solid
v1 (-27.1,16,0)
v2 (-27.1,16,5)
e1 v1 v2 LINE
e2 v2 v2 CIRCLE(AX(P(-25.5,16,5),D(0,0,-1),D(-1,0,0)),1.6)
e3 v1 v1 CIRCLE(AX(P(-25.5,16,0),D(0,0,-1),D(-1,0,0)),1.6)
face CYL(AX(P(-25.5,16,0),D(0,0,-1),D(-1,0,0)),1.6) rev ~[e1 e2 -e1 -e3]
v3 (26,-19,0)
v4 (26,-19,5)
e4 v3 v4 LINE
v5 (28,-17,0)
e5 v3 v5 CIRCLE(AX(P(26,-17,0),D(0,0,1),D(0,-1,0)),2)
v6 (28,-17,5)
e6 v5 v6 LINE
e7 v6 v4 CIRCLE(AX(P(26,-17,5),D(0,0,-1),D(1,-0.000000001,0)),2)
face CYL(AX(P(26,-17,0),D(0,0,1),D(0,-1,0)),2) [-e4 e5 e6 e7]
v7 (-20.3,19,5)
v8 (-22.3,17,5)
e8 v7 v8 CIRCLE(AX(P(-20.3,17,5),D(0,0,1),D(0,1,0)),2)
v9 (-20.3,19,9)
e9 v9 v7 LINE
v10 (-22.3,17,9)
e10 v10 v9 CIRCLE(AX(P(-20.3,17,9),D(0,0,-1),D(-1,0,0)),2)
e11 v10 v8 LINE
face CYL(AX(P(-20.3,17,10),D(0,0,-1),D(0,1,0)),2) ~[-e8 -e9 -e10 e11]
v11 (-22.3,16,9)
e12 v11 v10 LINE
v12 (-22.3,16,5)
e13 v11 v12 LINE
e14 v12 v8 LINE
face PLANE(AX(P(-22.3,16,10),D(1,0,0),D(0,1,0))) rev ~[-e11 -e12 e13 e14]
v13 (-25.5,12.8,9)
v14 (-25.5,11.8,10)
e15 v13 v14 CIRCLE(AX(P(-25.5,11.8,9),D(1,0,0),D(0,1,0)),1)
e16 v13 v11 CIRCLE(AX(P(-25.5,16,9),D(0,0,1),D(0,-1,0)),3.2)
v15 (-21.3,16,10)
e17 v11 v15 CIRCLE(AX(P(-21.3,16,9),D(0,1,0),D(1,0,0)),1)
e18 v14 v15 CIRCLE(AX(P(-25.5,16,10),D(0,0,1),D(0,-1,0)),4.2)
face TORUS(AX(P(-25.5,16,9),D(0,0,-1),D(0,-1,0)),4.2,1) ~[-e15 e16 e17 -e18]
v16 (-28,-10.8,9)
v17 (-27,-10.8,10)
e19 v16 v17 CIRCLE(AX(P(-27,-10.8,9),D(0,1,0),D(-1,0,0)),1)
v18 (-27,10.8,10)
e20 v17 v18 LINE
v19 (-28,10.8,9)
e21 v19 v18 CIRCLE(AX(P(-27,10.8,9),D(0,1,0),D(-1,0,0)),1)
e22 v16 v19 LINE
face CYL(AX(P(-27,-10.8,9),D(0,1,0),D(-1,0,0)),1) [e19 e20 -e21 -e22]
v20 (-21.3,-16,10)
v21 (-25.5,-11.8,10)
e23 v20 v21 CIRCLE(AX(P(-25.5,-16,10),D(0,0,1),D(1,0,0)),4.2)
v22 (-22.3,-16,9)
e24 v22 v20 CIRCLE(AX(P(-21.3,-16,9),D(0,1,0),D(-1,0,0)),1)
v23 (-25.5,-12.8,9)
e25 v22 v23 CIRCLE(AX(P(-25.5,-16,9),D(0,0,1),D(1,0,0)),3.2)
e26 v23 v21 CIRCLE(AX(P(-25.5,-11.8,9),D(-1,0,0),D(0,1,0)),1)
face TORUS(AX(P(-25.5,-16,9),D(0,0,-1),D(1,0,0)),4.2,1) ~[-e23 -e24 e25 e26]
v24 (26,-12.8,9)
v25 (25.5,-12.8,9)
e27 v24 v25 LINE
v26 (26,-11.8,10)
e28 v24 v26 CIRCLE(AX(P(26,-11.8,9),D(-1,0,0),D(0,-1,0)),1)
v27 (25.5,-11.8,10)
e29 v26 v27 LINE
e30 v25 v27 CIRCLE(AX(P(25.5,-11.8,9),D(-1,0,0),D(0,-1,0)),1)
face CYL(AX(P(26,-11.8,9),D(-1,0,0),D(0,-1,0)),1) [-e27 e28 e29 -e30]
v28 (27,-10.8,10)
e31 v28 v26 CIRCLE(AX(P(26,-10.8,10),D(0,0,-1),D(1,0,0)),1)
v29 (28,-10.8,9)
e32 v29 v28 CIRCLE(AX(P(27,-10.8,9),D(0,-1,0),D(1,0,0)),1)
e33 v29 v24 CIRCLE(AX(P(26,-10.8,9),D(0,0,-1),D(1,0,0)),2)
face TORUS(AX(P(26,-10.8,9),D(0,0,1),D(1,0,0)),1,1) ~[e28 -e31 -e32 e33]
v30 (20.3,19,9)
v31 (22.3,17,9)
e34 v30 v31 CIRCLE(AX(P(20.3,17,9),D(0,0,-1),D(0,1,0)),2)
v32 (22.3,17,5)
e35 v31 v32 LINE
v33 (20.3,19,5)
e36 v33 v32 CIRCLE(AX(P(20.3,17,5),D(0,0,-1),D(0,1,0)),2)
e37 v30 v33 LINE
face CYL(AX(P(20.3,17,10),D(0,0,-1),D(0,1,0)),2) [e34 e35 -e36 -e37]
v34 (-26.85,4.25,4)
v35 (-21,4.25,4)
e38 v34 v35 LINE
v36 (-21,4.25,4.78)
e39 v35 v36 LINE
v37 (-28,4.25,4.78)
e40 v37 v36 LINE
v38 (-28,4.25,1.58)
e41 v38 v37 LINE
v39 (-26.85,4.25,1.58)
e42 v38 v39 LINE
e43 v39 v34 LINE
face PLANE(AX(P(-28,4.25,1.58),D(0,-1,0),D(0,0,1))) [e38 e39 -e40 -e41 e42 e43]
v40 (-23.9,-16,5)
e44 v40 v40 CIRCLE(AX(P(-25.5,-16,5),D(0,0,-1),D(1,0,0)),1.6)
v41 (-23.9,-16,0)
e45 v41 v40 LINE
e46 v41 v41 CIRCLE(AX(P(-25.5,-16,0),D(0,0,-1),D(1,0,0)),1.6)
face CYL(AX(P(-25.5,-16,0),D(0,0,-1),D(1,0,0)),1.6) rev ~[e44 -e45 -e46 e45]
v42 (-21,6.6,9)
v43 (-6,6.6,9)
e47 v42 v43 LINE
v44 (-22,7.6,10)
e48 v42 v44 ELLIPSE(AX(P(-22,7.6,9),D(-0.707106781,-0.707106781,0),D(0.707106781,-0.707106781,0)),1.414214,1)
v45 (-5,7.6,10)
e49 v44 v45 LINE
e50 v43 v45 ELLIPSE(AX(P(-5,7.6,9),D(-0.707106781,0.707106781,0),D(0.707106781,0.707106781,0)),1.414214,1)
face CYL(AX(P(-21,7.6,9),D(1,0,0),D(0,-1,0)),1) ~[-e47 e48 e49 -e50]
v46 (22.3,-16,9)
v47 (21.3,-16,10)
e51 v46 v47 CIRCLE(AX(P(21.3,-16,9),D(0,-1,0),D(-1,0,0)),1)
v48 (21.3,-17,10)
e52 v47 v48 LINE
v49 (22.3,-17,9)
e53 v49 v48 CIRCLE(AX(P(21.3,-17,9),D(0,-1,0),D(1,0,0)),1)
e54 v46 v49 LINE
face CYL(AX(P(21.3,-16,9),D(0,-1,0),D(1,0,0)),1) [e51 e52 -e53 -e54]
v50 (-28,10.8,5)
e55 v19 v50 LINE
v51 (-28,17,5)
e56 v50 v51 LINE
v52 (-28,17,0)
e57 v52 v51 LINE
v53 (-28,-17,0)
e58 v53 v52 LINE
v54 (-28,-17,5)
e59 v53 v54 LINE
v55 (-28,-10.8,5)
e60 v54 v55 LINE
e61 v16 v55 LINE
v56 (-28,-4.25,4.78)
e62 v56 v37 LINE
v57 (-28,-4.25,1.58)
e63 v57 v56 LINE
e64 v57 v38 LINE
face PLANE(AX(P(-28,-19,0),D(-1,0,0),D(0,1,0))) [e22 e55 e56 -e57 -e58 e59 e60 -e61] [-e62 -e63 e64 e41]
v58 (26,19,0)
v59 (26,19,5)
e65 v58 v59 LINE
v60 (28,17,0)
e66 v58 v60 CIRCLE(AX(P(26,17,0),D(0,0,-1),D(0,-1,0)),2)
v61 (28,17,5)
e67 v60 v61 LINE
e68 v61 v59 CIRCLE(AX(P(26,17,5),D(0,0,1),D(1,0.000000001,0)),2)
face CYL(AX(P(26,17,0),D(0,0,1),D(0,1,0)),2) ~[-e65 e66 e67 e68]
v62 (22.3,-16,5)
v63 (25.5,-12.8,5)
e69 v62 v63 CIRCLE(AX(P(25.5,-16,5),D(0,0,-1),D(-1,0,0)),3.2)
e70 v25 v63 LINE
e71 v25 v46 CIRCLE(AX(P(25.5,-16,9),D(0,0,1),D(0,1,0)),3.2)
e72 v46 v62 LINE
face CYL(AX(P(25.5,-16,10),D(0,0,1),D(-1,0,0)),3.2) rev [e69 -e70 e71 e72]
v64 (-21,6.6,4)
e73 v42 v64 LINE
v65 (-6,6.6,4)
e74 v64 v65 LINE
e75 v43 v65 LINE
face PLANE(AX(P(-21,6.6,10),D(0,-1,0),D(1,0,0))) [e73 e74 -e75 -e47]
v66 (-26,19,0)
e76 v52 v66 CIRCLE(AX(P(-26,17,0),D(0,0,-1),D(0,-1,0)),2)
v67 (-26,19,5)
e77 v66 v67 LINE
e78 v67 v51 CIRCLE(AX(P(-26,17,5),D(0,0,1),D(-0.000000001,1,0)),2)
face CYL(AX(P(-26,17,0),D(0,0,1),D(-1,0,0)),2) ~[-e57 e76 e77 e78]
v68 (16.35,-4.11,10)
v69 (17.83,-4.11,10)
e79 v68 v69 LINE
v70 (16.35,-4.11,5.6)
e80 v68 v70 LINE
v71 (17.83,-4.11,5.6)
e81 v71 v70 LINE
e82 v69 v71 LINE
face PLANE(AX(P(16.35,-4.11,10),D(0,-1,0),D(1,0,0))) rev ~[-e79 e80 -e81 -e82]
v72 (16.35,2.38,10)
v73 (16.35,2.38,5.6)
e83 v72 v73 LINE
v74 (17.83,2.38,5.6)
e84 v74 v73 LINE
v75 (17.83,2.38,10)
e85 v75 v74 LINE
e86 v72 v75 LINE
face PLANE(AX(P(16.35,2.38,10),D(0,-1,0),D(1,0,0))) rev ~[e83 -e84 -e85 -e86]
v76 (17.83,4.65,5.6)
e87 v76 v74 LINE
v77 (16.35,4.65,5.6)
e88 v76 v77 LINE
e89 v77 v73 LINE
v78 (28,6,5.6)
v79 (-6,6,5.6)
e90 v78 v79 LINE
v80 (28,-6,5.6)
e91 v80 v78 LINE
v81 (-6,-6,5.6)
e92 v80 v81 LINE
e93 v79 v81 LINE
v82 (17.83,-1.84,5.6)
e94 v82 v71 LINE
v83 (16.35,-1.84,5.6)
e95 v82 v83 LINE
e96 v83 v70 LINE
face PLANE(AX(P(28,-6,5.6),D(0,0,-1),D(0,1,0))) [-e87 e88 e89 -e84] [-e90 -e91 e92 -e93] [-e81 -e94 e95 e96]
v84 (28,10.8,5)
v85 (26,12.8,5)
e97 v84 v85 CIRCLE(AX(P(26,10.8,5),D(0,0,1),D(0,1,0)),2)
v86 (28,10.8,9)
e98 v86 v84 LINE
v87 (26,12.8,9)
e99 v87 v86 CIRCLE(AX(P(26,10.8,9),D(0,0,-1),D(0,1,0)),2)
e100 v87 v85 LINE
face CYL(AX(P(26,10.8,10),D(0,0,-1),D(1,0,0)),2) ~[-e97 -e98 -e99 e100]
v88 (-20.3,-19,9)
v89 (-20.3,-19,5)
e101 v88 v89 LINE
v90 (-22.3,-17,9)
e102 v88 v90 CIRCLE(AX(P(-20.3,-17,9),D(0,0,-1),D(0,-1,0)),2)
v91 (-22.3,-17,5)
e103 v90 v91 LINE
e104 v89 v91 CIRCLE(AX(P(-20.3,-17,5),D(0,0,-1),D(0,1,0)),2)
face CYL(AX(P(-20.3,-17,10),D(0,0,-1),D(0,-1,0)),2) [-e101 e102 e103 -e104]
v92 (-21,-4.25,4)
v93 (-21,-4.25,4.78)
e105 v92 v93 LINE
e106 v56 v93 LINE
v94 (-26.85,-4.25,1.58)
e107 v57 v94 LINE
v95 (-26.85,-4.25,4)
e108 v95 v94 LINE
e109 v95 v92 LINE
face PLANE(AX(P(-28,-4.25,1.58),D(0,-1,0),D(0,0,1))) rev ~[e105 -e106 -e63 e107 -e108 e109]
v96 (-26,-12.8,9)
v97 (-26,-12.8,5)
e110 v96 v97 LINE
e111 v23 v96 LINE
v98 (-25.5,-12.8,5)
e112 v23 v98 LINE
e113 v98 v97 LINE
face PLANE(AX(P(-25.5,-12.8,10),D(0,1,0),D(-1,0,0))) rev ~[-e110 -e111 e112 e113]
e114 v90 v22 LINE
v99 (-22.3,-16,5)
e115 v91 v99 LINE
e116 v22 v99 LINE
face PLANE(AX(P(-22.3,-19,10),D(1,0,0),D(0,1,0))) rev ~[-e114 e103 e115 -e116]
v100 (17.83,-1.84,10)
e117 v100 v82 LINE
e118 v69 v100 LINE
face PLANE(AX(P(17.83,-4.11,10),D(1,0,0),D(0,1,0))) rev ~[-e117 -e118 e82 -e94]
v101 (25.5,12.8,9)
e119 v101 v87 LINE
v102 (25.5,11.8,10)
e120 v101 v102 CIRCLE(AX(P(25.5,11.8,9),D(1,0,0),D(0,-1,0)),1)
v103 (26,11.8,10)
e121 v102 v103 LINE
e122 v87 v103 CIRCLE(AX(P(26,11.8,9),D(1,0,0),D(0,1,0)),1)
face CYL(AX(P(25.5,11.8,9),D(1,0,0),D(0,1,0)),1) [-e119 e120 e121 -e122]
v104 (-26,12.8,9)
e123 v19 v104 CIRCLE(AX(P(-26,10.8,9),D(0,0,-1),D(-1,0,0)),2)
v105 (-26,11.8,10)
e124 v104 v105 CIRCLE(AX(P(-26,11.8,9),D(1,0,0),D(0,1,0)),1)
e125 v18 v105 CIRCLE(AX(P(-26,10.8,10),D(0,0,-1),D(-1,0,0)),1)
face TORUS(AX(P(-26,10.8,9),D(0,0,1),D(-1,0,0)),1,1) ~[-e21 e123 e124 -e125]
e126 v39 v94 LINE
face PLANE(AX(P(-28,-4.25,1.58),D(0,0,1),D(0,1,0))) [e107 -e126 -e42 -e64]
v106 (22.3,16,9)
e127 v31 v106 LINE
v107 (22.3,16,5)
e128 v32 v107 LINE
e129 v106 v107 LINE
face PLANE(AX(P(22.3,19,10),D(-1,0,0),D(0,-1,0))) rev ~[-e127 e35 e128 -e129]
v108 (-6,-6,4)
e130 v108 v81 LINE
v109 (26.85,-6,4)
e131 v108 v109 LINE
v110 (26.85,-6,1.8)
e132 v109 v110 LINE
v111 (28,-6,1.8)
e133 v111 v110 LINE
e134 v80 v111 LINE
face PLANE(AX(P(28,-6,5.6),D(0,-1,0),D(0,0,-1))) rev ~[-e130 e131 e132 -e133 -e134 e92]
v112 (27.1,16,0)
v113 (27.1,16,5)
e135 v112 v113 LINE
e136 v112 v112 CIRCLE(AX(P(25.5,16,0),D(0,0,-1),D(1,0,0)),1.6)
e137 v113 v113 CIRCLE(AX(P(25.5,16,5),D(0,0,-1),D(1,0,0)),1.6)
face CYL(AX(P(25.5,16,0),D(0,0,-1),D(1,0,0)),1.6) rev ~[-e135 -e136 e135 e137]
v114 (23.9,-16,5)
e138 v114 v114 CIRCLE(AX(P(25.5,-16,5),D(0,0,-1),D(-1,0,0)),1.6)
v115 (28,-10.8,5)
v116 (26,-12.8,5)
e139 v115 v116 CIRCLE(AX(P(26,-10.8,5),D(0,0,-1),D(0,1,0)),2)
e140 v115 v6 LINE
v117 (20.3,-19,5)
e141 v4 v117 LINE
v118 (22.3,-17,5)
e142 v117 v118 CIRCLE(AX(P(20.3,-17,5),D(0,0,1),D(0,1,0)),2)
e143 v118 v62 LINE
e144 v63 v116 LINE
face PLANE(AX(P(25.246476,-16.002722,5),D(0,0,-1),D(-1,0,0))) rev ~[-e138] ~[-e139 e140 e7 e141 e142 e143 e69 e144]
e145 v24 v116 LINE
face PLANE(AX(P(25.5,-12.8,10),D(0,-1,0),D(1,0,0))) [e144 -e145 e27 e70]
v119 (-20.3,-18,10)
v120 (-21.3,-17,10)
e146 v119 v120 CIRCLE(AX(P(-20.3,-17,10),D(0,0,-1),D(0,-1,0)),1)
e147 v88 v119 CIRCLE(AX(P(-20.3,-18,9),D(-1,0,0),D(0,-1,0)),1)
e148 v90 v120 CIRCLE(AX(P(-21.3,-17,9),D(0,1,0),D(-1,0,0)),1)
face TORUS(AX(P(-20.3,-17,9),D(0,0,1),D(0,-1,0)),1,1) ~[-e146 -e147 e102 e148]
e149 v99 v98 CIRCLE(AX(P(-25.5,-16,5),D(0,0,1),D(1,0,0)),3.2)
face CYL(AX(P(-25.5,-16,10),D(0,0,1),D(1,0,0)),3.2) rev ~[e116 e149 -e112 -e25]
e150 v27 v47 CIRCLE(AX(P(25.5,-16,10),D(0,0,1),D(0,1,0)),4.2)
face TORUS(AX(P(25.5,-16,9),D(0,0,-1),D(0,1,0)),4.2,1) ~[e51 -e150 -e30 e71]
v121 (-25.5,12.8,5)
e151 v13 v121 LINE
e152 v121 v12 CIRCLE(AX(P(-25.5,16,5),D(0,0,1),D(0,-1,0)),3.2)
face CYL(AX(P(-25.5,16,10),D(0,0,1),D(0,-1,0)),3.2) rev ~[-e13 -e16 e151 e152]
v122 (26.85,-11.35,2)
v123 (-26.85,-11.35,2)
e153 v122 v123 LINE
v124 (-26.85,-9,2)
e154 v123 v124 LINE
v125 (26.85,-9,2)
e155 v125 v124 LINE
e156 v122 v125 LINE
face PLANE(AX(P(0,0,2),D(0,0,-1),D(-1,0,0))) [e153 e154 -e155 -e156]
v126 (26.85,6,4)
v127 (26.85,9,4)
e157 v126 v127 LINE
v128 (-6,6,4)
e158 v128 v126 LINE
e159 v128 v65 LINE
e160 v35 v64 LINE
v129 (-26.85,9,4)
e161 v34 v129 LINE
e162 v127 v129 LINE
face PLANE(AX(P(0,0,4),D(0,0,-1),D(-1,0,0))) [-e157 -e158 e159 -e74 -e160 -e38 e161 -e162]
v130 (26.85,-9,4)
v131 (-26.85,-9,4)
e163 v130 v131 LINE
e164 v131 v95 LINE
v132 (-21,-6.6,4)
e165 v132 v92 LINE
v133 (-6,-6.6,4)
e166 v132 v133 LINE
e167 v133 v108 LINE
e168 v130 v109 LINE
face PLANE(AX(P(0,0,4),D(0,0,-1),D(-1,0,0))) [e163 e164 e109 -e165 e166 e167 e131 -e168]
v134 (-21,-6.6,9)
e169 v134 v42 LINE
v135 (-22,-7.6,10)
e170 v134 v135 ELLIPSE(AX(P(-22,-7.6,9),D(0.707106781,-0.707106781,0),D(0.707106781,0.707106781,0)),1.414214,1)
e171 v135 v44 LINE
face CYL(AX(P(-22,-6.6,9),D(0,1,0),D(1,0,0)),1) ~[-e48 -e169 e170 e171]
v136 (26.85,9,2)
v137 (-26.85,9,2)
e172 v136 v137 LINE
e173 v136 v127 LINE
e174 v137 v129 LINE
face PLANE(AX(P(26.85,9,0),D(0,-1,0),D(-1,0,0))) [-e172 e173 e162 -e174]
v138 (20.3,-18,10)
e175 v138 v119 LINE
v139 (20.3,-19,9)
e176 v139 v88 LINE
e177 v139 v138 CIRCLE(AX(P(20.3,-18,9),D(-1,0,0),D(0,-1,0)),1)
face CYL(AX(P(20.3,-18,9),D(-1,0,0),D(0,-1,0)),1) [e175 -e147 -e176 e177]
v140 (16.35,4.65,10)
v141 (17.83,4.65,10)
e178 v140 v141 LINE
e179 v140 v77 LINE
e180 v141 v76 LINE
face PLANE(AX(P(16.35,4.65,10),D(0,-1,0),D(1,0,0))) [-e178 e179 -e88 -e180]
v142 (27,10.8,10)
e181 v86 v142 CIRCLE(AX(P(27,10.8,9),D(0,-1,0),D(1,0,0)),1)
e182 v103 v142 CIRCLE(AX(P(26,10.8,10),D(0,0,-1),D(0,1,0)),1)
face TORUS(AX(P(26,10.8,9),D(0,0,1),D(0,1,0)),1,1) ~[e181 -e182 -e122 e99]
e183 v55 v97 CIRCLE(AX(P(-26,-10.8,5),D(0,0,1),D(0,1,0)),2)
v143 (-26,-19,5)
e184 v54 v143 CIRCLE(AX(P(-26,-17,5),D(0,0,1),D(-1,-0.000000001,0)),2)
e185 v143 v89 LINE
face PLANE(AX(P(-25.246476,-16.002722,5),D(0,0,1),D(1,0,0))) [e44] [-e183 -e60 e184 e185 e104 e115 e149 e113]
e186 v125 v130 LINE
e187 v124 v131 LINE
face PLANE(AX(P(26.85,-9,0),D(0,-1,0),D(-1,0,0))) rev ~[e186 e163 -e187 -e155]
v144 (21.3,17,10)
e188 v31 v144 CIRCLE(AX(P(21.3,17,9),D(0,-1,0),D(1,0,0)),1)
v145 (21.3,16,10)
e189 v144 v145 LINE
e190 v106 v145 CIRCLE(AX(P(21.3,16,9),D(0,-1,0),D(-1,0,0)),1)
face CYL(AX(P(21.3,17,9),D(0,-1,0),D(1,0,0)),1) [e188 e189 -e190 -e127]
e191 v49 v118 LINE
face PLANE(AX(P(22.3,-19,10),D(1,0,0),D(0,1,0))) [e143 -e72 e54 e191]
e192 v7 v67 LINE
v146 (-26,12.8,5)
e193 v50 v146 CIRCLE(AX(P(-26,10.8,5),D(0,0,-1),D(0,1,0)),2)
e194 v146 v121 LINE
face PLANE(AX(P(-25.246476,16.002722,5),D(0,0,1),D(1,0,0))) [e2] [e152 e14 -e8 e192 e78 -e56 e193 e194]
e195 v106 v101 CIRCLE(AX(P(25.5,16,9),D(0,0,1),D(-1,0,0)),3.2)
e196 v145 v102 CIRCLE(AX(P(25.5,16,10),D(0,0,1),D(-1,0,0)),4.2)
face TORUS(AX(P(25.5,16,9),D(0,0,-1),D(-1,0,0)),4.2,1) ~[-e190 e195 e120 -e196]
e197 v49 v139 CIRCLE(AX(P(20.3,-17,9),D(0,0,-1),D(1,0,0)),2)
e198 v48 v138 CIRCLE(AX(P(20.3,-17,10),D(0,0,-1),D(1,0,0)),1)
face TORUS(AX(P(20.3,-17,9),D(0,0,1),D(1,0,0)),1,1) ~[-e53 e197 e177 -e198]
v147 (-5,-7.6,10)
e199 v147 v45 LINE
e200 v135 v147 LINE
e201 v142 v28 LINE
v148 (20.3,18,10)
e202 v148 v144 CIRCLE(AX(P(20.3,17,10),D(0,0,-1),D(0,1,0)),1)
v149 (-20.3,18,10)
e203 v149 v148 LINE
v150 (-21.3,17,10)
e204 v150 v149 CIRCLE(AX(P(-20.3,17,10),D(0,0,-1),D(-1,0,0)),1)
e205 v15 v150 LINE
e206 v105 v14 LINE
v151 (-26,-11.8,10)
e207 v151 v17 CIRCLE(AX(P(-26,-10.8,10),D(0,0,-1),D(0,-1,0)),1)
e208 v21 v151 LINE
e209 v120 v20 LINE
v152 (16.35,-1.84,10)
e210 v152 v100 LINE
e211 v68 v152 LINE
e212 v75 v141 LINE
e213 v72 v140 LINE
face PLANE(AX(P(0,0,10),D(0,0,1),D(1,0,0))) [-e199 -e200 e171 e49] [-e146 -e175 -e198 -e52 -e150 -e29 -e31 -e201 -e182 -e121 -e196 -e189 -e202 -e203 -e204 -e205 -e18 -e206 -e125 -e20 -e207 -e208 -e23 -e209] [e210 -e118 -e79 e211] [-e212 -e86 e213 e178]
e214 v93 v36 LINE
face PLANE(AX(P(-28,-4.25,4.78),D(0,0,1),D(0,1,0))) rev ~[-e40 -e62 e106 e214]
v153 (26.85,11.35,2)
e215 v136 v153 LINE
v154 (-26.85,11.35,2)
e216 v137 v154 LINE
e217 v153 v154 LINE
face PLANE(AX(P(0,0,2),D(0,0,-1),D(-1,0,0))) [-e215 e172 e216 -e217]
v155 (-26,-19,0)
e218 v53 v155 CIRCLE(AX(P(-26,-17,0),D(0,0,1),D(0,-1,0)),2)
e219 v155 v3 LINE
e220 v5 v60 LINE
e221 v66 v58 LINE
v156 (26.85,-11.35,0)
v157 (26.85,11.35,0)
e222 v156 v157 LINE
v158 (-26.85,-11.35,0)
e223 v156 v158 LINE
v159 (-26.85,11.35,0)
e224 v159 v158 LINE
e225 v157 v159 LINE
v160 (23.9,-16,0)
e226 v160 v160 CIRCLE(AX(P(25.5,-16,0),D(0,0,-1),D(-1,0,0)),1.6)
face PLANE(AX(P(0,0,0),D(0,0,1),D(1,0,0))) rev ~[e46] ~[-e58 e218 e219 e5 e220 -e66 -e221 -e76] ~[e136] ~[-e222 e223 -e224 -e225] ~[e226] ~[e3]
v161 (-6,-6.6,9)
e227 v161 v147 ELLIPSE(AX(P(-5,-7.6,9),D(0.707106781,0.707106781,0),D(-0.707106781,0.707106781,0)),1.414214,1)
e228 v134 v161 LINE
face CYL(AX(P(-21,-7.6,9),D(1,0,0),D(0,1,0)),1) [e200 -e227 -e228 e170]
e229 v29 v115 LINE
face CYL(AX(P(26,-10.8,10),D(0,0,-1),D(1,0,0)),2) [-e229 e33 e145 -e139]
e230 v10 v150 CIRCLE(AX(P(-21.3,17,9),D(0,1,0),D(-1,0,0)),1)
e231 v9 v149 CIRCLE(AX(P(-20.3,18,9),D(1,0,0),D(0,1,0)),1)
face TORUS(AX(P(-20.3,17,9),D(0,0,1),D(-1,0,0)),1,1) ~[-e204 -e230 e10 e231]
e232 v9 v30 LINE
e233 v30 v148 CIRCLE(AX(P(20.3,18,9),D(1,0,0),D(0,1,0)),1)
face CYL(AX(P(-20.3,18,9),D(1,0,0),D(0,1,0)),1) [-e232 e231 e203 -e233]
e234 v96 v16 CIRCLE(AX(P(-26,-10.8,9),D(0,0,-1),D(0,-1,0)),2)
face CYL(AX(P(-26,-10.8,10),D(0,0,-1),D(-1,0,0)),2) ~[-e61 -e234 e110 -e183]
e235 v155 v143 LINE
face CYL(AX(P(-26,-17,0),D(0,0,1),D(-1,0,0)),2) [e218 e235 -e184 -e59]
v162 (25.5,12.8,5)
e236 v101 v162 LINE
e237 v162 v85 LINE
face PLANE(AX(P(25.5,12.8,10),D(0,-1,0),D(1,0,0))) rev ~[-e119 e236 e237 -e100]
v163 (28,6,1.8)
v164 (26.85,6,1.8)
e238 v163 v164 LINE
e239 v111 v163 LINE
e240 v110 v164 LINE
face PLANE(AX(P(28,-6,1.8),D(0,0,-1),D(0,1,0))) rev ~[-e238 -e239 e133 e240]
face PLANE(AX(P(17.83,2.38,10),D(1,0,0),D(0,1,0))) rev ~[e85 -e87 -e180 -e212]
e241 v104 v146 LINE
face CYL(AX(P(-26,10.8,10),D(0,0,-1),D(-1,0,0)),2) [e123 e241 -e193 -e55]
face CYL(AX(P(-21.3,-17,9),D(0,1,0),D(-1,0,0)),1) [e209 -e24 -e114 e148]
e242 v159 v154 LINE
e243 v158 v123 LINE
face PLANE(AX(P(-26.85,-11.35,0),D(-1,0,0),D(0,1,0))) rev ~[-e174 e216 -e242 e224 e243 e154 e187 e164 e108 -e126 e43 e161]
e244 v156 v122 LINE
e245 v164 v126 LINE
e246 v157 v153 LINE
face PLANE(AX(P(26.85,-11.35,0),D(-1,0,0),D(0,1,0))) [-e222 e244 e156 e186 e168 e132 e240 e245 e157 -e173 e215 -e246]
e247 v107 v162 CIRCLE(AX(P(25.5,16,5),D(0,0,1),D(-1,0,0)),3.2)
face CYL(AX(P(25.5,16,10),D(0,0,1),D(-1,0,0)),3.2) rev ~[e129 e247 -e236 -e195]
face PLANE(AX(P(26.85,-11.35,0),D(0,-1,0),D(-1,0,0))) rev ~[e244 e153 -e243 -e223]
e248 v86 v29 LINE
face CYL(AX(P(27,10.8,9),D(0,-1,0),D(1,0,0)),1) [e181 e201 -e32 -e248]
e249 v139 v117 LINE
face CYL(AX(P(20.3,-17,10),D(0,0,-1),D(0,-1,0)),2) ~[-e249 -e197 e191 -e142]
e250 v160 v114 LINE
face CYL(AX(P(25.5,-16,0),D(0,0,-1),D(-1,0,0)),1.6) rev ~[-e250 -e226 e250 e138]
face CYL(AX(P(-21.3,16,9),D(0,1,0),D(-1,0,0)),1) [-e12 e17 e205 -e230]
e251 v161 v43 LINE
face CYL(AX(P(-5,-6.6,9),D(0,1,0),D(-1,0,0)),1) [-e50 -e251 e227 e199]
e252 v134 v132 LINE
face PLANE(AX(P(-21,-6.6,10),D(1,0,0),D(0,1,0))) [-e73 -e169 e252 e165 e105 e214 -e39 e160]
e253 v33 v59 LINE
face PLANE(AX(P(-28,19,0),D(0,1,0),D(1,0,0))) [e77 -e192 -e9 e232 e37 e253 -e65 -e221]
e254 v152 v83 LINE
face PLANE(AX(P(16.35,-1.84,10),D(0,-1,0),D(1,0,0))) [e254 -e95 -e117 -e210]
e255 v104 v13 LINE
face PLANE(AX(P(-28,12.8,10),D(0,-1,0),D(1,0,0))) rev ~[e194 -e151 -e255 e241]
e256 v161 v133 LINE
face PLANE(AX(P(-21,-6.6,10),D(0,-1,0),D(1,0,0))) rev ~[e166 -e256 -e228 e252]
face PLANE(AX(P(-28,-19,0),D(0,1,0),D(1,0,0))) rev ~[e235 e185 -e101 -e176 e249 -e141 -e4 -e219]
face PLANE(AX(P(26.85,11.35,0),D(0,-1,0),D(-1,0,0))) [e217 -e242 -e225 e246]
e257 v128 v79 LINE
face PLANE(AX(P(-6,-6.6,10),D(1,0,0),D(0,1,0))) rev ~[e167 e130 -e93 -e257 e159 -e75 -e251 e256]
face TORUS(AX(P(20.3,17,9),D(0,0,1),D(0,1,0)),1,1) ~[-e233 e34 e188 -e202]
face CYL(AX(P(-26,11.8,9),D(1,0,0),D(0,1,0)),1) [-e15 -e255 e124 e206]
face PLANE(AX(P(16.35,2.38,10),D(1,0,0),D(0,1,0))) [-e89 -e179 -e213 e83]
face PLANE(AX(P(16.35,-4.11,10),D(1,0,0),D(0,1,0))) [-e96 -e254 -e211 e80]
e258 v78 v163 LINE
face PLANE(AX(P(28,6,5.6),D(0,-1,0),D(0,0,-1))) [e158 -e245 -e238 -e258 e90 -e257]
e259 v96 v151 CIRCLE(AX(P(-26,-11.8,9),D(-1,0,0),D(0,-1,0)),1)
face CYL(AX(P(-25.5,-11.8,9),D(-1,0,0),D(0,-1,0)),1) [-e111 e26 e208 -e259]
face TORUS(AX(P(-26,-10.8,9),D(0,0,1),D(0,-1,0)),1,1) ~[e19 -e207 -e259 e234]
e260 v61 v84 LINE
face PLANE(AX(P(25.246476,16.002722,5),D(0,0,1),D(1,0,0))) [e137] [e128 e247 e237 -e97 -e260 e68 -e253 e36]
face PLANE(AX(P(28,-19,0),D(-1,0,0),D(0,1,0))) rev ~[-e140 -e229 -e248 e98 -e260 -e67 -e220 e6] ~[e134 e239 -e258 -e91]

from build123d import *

# Parameters (mm, degrees)
SKETCH_1_W          = 56
SKETCH_1_H          = 38
EXTRUDE_1_DEPTH     = 10
SKETCH_2_W          = 15
SKETCH_2_H          = 13.2
SKETCH_2_W_2        = 1.48
SKETCH_2_H_2        = 2.27
CUT_EXTRUDE_1_DEPTH = 8
SKETCH_3_W          = 53.7
SKETCH_3_H          = 22.7
CUT_EXTRUDE_2_DEPTH = 2
CUT_EXTRUDE_4_REACH = 61.975
SKETCH_5_W          = 3.2
SKETCH_5_H          = 8.5
CUT_EXTRUDE_5_REACH = 61.975
SKETCH_6_W          = 3.8
SKETCH_6_H          = 12
SKETCH_7_R          = 1.6
CUT_EXTRUDE_6_DEPTH = 36.284557529
FILLET_1_R          = 2
CUT_EXTRUDE_7_DEPTH = 5
FILLET_3_R          = 2
FILLET_4_R          = 1
SKETCH_10_W         = 53.7
SKETCH_10_H         = 18
CUT_EXTRUDE_9_DEPTH = 4


with BuildPart() as part:
    # 草图1 → 凸台-拉伸1 (new body)
    with BuildSketch(Plane.XY):
        Rectangle(SKETCH_1_W, SKETCH_1_H)
    extrude(amount=EXTRUDE_1_DEPTH)

    # 草图2 → 切除-拉伸1 (cut)
    with BuildSketch(Plane.XY.offset(10)):
        with Locations((-13.5, 0)):
            Rectangle(SKETCH_2_W, SKETCH_2_H)
        with Locations((17.09, 3.515)):
            Rectangle(SKETCH_2_W_2, SKETCH_2_H_2)
        with Locations((17.09, -2.975)):
            Rectangle(SKETCH_2_W_2, SKETCH_2_H_2)
    extrude(amount=-CUT_EXTRUDE_1_DEPTH, mode=Mode.SUBTRACT)

    # 草图3 → 切除-拉伸2 (cut)
    with BuildSketch(Plane(origin=(0, 0, 0), x_dir=(-1, 0, 0), z_dir=(0, 0, -1))):
        Rectangle(SKETCH_3_W, SKETCH_3_H)
    extrude(amount=-CUT_EXTRUDE_2_DEPTH, mode=Mode.SUBTRACT)

    # 草图5 → 切除-拉伸4 (cut, up to next)
    with BuildSketch(Plane.ZY.offset(28), mode=Mode.PRIVATE) as cut_extrude_4_sk1:
        with Locations((3.18, 0)):
            Rectangle(SKETCH_5_W, SKETCH_5_H)
    cut_extrude_4_tool1 = extrude(cut_extrude_4_sk1.sketch, amount=-CUT_EXTRUDE_4_REACH, mode=Mode.PRIVATE) & part.part
    add(cut_extrude_4_tool1.solids().sort_by_distance((-28, 0, 3.18))[0], mode=Mode.SUBTRACT)

    # 草图6 → 切除-拉伸5 (cut, up to next)
    with BuildSketch(Plane(origin=(28, 0, 0), x_dir=(0, 0, -1), z_dir=(1, 0, 0)), mode=Mode.PRIVATE) as cut_extrude_5_sk1:
        with Locations((-3.7, 0)):
            Rectangle(SKETCH_6_W, SKETCH_6_H)
    cut_extrude_5_tool1 = extrude(cut_extrude_5_sk1.sketch, amount=-CUT_EXTRUDE_5_REACH, mode=Mode.PRIVATE) & part.part
    add(cut_extrude_5_tool1.solids().sort_by_distance((28, 0, 3.7))[0], mode=Mode.SUBTRACT)

    # 草图7 → 切除-拉伸6 (cut, through all)
    with BuildSketch(Plane(origin=(0, 0, 0), x_dir=(-1, 0, 0), z_dir=(0, 0, -1))):
        with Locations((25.5, 16)):
            Circle(SKETCH_7_R)
        with Locations(Location((25.5, -16, 0), (0, 0, 180))):
            Circle(SKETCH_7_R)
        with Locations((-25.5, -16)):
            Circle(SKETCH_7_R)
        with Locations(Location((-25.5, 16, 0), (0, 0, 180))):
            Circle(SKETCH_7_R)
    extrude(amount=-CUT_EXTRUDE_6_DEPTH, mode=Mode.SUBTRACT)

    # 圆角1
    fillet_1_edges = [part.edges().sort_by_distance(p)[0] for p in [
        (28, -19, 5),
        (-28, -19, 5),
        (-28, 19, 5),
        (28, 19, 5),
    ]]
    fillet(fillet_1_edges, radius=FILLET_1_R)

    # 草图8 → 切除-拉伸7 (cut)
    with BuildSketch(Plane.XY.offset(10)):
        with BuildLine():
            Line((-22.3, 16), (-22.3, 19))
            Line((-22.3, 19), (-26, 19))
            ThreePointArc((-26, 19), (-27.414213562, 18.414213562), (-28, 17))
            Line((-28, 17), (-28, 12.8))
            Line((-28, 12.8), (-25.5, 12.8))
            ThreePointArc((-25.5, 12.8), (-23.2372583, 13.7372583), (-22.3, 16))
        make_face()
        with BuildLine():
            Line((28, 12.8), (28, 17))
            ThreePointArc((28, 17), (27.414213562, 18.414213562), (26, 19))
            Line((26, 19), (22.3, 19))
            Line((22.3, 19), (22.3, 16))
            ThreePointArc((22.3, 16), (23.2372583, 13.7372583), (25.5, 12.8))
            Line((25.5, 12.8), (28, 12.8))
        make_face()
        with BuildLine():
            Line((-28, -12.8), (-28, -17))
            ThreePointArc((-28, -17), (-27.414213562, -18.414213562), (-26, -19))
            Line((-26, -19), (-22.3, -19))
            Line((-22.3, -19), (-22.3, -16))
            ThreePointArc((-22.3, -16), (-23.2372583, -13.7372583), (-25.5, -12.8))
            Line((-25.5, -12.8), (-28, -12.8))
        make_face()
        with BuildLine():
            Line((26, -19), (22.3, -19))
            Line((22.3, -19), (22.3, -16))
            ThreePointArc((22.3, -16), (23.2372583, -13.7372583), (25.5, -12.8))
            Line((25.5, -12.8), (28, -12.8))
            Line((28, -12.8), (28, -17))
            ThreePointArc((28, -17), (27.414213562, -18.414213562), (26, -19))
        make_face()
    extrude(amount=-CUT_EXTRUDE_7_DEPTH, mode=Mode.SUBTRACT)

    # 圆角3
    fillet_3_edges = [part.edges().sort_by_distance(p)[0] for p in [
        (28, 12.8, 7.5),
        (22.3, 19, 7.5),
        (-28, -12.8, 7.5),
        (-22.3, -19, 7.5),
        (22.3, -19, 7.5),
        (28, -12.8, 7.5),
        (-28, 12.8, 7.5),
        (-22.3, 19, 7.5),
    ]]
    fillet(fillet_3_edges, radius=FILLET_3_R)

    # 圆角4
    fillet_4_edges = [part.edges().sort_by_distance(p)[0] for p in [
        (23.2372583, 13.7372583, 10),
        (25.75, 12.8, 10),
        (-23.2372583, -13.7372583, 10),
        (-25.75, -12.8, 10),
        (-6, 0, 10),
        (23.2372583, -13.7372583, 10),
        (-13.5, 6.6, 10),
        (22.3, -16.5, 10),
        (-21, 0, 10),
        (-13.5, -6.6, 10),
        (-23.2372583, 13.7372583, 10),
        (-22.3, 16.5, 10),
        (0, -19, 10),
        (28, 0, 10),
        (22.3, 16.5, 10),
        (0, 19, 10),
        (-25.75, 12.8, 10),
        (-28, 0, 10),
        (-22.3, -16.5, 10),
        (25.75, -12.8, 10),
        (-27.414213562, -12.214213562, 10),
        (-21.714213562, -18.414213562, 10),
        (-27.414213562, 12.214213562, 10),
        (-21.714213562, 18.414213562, 10),
        (27.414213562, 12.214213562, 10),
        (21.714213562, 18.414213562, 10),
        (27.414213562, -12.214213562, 10),
        (21.714213562, -18.414213562, 10),
    ]]
    fillet(fillet_4_edges, radius=FILLET_4_R)

    # 草图10 → 切除-拉伸9 (cut)
    with BuildSketch(Plane(origin=(0, 0, 0), x_dir=(-1, 0, 0), z_dir=(0, 0, -1))):
        Rectangle(SKETCH_10_W, SKETCH_10_H)
    extrude(amount=-CUT_EXTRUDE_9_DEPTH, mode=Mode.SUBTRACT)


solid = part.part
